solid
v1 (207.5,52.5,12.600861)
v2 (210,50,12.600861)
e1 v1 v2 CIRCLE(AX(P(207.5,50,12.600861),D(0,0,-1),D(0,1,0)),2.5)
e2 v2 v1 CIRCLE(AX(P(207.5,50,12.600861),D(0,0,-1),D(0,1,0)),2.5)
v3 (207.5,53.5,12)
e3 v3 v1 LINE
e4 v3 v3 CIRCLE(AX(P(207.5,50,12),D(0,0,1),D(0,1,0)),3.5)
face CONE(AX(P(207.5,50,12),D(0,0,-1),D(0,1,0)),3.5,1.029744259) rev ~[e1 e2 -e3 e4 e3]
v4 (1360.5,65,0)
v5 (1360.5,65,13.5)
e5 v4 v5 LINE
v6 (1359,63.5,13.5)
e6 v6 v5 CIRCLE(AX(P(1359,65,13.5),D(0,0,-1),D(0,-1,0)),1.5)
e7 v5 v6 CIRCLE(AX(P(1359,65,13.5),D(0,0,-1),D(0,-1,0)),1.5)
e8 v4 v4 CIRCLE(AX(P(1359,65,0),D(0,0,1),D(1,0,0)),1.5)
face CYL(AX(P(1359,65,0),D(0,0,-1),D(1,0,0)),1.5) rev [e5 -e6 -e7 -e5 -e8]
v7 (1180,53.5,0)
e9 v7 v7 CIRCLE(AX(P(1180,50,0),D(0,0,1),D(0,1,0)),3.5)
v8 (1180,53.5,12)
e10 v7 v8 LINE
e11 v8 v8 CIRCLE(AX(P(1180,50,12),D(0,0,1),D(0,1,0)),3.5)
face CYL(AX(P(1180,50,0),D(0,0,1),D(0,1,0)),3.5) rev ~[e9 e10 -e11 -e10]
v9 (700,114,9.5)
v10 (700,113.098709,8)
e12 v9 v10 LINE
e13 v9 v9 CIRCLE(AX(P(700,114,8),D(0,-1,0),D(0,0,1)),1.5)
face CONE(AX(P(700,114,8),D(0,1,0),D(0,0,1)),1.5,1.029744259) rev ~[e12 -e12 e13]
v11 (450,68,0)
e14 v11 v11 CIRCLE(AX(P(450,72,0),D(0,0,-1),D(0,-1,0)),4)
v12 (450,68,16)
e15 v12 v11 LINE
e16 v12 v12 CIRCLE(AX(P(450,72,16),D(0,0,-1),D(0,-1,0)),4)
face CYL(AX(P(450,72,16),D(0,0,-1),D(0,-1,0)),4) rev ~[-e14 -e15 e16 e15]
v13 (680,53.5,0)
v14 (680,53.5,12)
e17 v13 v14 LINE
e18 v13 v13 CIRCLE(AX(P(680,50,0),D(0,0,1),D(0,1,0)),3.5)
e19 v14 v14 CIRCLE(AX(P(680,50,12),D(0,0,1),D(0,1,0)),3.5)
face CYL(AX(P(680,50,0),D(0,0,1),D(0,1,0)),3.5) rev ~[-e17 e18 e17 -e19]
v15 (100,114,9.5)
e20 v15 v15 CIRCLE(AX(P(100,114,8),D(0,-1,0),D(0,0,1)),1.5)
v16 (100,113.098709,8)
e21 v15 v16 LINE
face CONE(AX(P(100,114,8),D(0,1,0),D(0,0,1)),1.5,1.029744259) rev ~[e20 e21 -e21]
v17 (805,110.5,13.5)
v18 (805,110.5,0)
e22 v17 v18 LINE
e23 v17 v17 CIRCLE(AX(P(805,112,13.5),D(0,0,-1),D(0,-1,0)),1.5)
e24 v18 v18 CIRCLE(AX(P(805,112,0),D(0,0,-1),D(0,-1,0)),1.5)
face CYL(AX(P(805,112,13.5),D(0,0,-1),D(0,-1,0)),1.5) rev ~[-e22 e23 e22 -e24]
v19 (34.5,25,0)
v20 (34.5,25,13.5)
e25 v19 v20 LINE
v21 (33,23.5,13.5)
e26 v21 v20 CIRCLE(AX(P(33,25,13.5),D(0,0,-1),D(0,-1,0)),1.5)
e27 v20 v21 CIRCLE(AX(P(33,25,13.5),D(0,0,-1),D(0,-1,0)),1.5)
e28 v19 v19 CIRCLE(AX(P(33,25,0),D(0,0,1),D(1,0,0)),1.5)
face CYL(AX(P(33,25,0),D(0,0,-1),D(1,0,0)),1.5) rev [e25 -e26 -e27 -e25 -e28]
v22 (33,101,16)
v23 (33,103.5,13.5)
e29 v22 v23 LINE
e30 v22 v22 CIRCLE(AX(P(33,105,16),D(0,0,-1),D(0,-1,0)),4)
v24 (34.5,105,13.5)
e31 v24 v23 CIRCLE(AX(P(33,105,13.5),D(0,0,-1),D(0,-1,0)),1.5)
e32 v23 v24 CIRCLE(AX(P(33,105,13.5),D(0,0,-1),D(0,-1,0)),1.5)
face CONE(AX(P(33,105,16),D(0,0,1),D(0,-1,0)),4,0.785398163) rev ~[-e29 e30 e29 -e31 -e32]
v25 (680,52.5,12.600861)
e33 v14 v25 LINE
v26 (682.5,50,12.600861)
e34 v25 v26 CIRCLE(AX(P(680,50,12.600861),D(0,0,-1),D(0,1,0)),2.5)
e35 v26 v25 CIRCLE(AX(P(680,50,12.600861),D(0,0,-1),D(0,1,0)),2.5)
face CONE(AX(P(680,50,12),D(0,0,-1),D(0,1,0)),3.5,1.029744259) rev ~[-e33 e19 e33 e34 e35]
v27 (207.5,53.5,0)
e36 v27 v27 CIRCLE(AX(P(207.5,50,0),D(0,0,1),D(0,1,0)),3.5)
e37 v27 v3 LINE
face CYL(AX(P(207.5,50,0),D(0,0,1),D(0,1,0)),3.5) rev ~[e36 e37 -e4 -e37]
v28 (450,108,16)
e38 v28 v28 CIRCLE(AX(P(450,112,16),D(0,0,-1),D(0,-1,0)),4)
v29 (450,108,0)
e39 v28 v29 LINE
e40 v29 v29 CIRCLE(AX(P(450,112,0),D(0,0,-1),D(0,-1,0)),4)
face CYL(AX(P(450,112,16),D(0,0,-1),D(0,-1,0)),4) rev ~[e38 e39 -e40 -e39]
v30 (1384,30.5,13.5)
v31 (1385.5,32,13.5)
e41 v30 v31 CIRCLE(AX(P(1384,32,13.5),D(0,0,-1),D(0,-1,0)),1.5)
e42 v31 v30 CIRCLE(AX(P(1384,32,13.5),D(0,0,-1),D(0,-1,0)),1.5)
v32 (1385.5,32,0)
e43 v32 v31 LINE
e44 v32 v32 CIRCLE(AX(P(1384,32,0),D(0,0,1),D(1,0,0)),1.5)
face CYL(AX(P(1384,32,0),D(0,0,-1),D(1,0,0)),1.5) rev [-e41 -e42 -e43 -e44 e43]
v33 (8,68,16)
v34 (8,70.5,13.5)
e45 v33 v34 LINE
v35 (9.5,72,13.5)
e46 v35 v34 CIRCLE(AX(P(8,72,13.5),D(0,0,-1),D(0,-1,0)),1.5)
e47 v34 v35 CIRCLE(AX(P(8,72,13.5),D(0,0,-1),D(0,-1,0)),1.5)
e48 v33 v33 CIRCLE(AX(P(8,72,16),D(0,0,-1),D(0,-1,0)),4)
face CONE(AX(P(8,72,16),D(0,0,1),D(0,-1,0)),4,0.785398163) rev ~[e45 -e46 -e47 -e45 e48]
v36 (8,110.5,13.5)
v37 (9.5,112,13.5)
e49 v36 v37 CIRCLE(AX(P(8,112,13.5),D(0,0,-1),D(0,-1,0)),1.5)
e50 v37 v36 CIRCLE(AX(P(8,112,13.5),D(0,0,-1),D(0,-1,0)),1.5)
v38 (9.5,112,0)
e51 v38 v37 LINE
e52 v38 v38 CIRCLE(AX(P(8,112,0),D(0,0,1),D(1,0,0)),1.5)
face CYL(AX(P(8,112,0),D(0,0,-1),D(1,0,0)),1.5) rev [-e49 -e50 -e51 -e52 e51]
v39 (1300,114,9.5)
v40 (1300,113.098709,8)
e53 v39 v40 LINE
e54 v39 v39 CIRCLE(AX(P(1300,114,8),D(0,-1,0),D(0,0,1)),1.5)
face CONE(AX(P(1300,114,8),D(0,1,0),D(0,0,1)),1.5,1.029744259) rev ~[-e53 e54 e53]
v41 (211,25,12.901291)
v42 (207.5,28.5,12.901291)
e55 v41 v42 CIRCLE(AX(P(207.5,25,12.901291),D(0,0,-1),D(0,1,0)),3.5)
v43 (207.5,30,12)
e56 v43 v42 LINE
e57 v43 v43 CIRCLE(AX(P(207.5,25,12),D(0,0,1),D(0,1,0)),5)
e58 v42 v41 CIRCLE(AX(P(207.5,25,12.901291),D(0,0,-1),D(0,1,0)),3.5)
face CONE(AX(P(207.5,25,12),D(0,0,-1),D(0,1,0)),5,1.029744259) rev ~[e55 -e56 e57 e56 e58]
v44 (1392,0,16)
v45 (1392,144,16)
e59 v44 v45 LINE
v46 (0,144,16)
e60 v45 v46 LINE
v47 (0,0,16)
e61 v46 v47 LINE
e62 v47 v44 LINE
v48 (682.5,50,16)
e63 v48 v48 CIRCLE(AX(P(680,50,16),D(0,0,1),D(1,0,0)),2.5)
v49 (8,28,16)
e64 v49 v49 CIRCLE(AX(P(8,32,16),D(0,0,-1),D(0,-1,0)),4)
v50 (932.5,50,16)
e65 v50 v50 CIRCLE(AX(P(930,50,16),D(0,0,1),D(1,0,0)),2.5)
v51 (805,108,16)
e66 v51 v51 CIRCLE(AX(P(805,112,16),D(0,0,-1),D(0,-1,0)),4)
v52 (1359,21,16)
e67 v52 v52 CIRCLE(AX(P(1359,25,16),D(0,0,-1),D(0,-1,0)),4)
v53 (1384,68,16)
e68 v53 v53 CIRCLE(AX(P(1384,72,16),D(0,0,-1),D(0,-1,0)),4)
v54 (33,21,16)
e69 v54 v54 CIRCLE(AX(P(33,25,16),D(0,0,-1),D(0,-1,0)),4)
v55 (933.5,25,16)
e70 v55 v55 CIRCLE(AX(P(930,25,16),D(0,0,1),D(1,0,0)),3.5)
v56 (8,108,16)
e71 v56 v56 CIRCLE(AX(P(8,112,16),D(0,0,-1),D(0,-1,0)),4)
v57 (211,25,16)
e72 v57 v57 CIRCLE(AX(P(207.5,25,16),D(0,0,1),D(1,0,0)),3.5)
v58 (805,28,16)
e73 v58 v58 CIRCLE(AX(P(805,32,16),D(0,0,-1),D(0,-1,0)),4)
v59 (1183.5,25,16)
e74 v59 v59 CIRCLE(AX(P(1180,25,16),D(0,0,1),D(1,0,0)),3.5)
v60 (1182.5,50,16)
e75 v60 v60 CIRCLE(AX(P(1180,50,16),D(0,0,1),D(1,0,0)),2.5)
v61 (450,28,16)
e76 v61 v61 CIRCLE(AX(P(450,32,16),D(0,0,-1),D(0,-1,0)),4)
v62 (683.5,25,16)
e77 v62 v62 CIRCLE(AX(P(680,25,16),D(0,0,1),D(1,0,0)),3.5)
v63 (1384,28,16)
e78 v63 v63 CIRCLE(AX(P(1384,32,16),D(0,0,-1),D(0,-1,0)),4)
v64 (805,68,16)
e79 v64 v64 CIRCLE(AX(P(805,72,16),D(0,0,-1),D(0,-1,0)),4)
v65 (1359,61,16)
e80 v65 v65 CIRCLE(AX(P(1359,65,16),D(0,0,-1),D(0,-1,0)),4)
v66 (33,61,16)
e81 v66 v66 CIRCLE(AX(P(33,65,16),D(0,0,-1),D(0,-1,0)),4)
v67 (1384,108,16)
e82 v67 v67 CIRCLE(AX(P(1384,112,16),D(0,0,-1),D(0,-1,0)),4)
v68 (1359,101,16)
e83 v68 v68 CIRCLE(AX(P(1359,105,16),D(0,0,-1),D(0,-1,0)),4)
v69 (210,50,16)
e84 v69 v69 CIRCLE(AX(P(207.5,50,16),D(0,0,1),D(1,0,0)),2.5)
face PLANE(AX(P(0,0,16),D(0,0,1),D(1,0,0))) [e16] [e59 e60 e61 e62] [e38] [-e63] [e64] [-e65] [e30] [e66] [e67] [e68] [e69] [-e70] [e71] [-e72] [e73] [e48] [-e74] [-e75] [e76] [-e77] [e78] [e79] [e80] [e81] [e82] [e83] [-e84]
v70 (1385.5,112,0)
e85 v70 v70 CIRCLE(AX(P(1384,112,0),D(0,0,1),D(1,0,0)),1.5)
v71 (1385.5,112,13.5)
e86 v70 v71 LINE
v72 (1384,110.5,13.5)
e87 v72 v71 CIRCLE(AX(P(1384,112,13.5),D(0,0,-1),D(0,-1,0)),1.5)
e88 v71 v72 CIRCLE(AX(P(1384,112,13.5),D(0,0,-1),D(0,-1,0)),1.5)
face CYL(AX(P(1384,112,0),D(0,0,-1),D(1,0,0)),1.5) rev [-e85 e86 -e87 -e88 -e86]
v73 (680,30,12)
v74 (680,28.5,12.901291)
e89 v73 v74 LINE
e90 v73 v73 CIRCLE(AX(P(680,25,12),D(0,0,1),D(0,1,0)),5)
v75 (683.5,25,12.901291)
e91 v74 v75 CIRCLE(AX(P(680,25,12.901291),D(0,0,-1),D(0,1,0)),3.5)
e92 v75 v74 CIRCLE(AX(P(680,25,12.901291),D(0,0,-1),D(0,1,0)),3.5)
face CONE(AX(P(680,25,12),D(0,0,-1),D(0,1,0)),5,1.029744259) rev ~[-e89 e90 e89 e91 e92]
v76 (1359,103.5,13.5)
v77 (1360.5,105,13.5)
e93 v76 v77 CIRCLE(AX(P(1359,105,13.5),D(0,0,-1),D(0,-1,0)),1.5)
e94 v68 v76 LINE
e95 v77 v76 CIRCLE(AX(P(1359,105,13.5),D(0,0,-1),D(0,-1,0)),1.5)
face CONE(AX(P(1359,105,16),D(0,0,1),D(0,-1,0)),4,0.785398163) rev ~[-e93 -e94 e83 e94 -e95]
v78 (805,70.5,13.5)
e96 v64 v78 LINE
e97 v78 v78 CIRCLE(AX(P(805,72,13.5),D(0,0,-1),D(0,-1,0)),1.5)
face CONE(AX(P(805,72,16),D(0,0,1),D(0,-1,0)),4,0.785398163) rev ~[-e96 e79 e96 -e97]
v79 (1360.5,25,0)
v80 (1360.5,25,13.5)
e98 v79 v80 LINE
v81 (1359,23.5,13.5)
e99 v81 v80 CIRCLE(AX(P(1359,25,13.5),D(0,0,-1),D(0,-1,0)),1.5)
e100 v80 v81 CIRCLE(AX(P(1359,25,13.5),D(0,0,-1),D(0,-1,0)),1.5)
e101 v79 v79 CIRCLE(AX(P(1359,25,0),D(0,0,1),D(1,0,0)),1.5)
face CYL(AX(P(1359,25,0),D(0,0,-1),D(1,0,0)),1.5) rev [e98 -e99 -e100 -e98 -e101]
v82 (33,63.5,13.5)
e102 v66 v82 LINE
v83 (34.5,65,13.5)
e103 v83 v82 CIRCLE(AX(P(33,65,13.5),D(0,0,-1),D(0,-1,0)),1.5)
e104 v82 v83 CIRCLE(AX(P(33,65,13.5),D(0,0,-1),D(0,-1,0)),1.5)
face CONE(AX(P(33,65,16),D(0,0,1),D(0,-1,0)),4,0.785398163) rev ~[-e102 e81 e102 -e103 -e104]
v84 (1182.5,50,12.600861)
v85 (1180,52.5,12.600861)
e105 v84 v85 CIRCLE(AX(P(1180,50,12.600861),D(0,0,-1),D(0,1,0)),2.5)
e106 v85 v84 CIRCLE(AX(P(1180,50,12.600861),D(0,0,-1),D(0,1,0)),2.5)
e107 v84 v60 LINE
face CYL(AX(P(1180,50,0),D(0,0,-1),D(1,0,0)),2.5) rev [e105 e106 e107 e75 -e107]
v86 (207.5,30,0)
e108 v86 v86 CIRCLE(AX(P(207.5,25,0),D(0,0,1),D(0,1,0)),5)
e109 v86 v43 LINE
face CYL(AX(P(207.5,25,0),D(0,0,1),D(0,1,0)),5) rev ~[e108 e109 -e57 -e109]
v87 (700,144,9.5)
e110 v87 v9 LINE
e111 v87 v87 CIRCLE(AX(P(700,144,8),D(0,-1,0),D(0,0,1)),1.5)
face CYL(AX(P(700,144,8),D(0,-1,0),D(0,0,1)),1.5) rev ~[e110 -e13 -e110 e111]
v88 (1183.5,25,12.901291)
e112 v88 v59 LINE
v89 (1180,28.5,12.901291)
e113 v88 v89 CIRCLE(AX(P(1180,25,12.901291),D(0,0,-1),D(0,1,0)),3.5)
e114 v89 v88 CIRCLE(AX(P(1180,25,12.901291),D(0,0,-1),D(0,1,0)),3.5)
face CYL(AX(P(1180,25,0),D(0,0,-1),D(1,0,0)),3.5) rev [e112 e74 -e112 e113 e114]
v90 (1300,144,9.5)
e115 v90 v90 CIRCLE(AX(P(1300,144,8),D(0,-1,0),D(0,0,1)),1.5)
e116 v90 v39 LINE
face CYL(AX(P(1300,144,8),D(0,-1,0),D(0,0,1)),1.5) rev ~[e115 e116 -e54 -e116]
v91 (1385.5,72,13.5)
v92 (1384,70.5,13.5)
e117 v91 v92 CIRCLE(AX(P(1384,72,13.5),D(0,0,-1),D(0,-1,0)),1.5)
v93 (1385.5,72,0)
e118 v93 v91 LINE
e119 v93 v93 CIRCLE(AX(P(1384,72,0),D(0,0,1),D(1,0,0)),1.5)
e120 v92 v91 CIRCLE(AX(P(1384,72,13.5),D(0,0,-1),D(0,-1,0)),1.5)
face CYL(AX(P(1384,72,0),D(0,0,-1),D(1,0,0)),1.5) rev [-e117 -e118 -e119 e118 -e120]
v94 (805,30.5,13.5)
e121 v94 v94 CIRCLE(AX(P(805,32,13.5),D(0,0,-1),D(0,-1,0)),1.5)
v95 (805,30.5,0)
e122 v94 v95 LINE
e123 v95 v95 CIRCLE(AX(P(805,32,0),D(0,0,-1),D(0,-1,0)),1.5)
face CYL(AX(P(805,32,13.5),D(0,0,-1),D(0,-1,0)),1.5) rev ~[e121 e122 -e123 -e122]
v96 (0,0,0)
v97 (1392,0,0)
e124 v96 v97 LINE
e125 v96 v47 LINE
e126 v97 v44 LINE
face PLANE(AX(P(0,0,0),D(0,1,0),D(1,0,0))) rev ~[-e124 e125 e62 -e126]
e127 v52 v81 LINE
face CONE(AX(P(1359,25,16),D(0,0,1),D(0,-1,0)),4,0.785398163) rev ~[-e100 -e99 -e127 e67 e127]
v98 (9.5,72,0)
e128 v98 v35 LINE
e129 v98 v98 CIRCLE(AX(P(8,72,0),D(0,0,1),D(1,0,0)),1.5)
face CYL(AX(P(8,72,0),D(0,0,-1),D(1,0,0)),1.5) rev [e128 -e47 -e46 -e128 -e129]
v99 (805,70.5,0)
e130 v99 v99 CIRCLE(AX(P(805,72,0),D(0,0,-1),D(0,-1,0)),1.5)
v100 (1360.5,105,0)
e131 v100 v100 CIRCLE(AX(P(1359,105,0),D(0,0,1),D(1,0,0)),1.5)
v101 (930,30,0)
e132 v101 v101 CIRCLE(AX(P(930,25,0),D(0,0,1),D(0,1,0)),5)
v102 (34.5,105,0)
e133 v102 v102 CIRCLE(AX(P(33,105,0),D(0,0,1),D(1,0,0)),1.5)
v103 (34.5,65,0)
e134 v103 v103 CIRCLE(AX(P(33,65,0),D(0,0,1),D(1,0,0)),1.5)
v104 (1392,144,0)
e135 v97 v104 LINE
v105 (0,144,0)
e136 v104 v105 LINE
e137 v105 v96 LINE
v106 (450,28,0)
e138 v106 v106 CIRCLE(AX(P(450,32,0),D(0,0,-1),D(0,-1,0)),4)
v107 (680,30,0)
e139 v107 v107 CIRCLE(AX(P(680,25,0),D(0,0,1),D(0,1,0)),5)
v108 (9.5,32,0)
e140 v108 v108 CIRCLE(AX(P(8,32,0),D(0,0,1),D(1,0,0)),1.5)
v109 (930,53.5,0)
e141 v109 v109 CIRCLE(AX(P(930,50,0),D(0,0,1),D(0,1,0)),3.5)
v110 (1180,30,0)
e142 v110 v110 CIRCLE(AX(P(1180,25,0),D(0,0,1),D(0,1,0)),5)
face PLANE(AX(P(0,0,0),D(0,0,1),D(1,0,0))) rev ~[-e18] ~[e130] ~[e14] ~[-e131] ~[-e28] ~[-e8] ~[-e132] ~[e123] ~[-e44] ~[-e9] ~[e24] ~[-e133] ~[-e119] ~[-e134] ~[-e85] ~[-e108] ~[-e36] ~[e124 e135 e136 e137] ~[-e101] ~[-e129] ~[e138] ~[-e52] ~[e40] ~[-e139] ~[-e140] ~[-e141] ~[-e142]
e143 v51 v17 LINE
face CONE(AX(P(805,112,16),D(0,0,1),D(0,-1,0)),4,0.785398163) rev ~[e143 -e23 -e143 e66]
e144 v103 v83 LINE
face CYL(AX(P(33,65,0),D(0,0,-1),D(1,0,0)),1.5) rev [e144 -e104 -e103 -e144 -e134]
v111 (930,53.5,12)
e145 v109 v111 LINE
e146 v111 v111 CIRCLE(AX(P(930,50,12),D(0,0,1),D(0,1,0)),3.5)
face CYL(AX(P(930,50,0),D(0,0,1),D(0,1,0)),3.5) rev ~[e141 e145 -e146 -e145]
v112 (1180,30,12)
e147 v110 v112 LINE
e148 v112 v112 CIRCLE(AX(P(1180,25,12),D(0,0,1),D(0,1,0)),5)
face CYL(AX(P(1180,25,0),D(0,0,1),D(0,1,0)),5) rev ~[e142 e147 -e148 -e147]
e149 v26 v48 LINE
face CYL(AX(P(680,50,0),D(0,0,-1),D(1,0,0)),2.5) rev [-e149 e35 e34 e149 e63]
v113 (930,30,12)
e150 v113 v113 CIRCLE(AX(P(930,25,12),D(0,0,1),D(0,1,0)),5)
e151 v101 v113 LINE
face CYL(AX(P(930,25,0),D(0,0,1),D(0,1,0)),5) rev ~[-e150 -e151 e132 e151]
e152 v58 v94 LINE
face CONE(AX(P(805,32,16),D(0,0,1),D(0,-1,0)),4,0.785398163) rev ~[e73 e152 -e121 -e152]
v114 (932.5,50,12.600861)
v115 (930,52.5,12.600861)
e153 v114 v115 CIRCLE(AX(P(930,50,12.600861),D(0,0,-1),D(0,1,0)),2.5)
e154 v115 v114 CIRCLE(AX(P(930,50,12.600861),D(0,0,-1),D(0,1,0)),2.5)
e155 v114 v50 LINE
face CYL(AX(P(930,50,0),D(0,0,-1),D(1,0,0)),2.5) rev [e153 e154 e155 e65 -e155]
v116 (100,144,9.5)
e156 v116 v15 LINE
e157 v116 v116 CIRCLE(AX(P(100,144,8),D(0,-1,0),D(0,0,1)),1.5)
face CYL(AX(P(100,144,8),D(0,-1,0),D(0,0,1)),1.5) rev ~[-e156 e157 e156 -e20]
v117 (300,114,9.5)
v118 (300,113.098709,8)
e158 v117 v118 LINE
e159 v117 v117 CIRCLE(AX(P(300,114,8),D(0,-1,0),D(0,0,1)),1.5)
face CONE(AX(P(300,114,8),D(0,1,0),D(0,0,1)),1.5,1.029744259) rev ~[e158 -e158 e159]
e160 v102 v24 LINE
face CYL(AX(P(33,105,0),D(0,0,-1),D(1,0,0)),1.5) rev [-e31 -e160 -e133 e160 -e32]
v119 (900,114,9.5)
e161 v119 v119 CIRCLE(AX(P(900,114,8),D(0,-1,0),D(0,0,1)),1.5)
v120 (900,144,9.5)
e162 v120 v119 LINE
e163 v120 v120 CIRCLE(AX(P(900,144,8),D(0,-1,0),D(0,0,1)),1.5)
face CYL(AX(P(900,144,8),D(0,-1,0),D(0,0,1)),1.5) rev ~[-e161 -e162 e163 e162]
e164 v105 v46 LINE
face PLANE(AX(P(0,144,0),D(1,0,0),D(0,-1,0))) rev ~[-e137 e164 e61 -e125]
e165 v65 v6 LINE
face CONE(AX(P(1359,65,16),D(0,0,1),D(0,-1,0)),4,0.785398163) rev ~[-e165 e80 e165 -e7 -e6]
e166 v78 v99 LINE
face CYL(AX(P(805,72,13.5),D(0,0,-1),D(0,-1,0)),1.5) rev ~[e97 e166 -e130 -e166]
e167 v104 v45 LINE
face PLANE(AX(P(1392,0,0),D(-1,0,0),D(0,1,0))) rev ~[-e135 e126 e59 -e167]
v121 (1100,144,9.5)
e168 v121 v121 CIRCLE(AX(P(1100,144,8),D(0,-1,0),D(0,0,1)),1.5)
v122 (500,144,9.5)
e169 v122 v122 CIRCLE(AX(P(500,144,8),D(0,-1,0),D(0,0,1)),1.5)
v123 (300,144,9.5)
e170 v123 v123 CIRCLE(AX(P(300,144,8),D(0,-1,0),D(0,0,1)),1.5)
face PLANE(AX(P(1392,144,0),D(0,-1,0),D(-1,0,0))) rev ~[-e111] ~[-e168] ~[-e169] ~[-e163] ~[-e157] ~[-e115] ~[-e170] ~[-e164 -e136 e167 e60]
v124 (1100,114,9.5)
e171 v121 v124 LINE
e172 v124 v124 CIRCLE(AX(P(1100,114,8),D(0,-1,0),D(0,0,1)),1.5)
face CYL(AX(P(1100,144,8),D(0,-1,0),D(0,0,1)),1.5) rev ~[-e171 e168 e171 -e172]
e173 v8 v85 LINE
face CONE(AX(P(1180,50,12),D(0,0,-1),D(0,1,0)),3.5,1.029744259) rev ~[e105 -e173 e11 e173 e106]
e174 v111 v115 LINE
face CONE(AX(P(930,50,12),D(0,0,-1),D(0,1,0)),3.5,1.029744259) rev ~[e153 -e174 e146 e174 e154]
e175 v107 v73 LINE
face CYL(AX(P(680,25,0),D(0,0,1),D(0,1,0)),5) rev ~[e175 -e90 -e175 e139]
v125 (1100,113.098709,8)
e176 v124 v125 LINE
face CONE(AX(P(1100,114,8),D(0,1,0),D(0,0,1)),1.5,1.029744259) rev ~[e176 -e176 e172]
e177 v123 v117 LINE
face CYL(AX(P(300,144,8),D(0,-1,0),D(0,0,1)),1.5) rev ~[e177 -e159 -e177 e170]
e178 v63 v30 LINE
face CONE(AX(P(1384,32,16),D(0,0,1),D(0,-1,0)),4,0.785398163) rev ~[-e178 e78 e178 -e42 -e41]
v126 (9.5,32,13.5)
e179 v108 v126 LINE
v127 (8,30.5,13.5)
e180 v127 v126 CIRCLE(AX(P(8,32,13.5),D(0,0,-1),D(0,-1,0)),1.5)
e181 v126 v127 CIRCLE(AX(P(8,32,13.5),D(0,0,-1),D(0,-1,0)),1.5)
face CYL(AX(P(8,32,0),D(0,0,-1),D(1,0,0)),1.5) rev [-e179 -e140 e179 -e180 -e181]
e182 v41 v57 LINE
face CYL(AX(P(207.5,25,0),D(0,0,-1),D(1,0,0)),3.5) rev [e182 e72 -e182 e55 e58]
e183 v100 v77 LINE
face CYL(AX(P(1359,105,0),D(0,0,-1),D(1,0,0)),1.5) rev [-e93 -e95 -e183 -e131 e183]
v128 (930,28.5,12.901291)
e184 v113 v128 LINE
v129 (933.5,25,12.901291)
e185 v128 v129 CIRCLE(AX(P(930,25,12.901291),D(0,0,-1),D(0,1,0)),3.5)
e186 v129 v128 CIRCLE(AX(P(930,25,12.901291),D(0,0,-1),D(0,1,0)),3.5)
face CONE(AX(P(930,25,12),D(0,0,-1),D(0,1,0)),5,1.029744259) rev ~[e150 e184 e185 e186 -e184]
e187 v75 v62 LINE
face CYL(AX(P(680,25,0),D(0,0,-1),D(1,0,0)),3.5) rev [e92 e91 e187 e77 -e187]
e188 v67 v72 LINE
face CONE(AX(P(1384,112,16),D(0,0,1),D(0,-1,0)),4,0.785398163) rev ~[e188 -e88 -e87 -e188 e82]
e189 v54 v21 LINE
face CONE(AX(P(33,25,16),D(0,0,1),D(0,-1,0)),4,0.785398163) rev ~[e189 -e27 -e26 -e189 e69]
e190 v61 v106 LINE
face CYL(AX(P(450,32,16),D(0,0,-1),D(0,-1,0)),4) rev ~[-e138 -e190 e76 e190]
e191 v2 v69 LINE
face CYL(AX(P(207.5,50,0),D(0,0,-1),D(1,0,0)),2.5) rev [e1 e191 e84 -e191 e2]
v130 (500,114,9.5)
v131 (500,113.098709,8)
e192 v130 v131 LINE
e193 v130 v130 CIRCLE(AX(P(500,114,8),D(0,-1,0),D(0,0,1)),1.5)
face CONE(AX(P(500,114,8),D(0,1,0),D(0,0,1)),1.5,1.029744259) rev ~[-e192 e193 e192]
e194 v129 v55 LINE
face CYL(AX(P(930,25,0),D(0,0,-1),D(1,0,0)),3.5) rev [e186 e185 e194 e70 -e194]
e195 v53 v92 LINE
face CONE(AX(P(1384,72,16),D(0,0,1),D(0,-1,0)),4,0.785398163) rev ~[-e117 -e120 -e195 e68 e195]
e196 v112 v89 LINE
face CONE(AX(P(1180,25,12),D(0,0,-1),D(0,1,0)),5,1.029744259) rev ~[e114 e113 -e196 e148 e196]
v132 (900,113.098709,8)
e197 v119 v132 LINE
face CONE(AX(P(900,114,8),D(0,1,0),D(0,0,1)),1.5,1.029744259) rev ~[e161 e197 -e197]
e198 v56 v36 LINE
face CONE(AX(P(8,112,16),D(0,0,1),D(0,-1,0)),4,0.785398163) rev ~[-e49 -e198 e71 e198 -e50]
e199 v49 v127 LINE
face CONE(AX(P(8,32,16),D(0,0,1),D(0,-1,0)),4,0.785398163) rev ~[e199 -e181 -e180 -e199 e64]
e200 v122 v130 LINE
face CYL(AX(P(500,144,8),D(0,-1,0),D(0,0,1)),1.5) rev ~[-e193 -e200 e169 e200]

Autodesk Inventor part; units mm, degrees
ref_plane "YZ Plane" through (0, 0, 0) normal (1, 0, 0) x (0, 1, 0)
ref_plane "XZ Plane" through (0, 0, 0) normal (0, 1, 0) x (-1, 0, 0)
ref_plane "XY Plane" through (0, 0, 0) normal (0, 0, 1) x (1, 0, 0)
sketch "Skizze1" plane through (0, 0, 0) normal (0, 0, 1) x (1, 0, 0)
  line L0 (0, 0) -> (1392, 0)
  line L1 (1392, 0) -> (1392, 144)
  line L2 (1392, 144) -> (0, 144)
  line L3 (0, 144) -> (0, 0)
  line L4 (0, 25) -> (1392, 25) construction
  line L5 (0, 50) -> (1392, 50) construction
  line L6 (680, 0) -> (680, 144) construction
  line L7 (930, 144) -> (930, 0) construction
  line L8 (1180, 144) -> (1180, 0) construction
  line L9 (207.5, 144) -> (207.5, 0) construction
  circle A0 centre (207.5, 50) radius 2.5
  circle A1 centre (680, 50) radius 2.5
  circle A2 centre (930, 50) radius 2.5
  circle A3 centre (1180, 50) radius 2.5
  circle A4 centre (1180, 25) radius 3.5
  circle A5 centre (930, 25) radius 3.5
  circle A6 centre (680, 25) radius 3.5
  circle A7 centre (207.5, 25) radius 3.5
  line L10 (1384, 144) -> (1384, 0) construction
  line L11 (1392, 112) -> (0, 112) construction
  line L12 (1392, 32) -> (0, 32) construction
  circle A8 centre (1384, 112) radius 1.5
  circle A9 centre (1384, 32) radius 1.5
  line L13 (8, 144) -> (8, 0) construction
  circle A10 centre (8, 112) radius 1.5
  circle A11 centre (8, 72) radius 1.5
  circle A12 centre (8, 32) radius 1.5
  circle A13 centre (1384, 72) radius 1.5
  circle A14 centre (1359, 25) radius 1.5
  circle A15 centre (1359, 65) radius 1.5
  circle A16 centre (1359, 105) radius 1.5
  circle A17 centre (33, 65) radius 1.5
  line L14 (1359, 25) -> (1359, 105) construction
  line L15 (0, 72) -> (33, 72) construction
  circle A18 centre (33, 105) radius 1.5
  circle A19 centre (33, 25) radius 1.5
  line L16 (33, 25) -> (33, 105) construction
  point P0 (1392, 72)
  dimension "d0" = 1392
  dimension "d1" = 144
  dimension "d2" = 25
  dimension "d3" = 50
  dimension "d6" = 250
  dimension "d8" = 5
  dimension "d9" = 5
  dimension "d10" = 5
  dimension "d11" = 5
  dimension "d12" = 7
  dimension "d13" = 7
  dimension "d14" = 7
  dimension "d15" = 7
  dimension "d20" = 8
  dimension "d21" = 40
  dimension "d22" = 40
  dimension "d23" = 3
  dimension "d24" = 3
  dimension "d25" = 8
  dimension "d26" = 3
  dimension "d27" = 3
  dimension "d28" = 3
  dimension "d29" = 3
  dimension "d137" = 3
  dimension "d138" = 3
  dimension "d139" = 3
  dimension "d143" = 3
  dimension "d153" = 3
  dimension "d154" = 3
  dimension "d206" = 33
  dimension "d210" = 40
  dimension "d211" = 40
  dimension "d212" = 33
  dimension "d213" = 40
  dimension "d214" = 40
  dimension "d215" = 250
  dimension "d216" = 680
  dimension "d217" = 207.5
extrude "Extrusion1" add sketch "Skizze1" along normal blind 16
hole "Bohrung1" at (1180, 25, 0) at (930, 25, 0) at (680, 25, 0) at (207.5, 25, 0) direction (0, 0, 1) diameter 10 depth 12 tip angle 118
hole "Bohrung4" at (930, 50, 0) at (680, 50, 0) at (207.5, 50, 0) at (1180, 50, 0) direction (0, 0, 1) diameter 7 depth 12 tip angle 118
sketch "Skizze4" plane through (0, 0, 16) normal (0, 0, 1) x (1, 0, 0)
  circle A0 centre (8, 112) radius 1.5 projected
  circle A1 centre (8, 72) radius 1.5 projected
  circle A2 centre (8, 32) radius 1.5 projected
  circle A3 centre (30, 72) radius 1.5 projected
  circle A4 centre (207.5, 25) radius 3.5 projected
  circle A5 centre (680, 25) radius 3.5 projected
  circle A6 centre (930, 25) radius 3.5 projected
  circle A7 centre (1180, 25) radius 3.5 projected
  circle A8 centre (1180, 50) radius 2.5 projected
  circle A9 centre (930, 50) radius 2.5 projected
  circle A10 centre (680, 50) radius 2.5 projected
  circle A11 centre (207.5, 50) radius 2.5 projected
  circle A12 centre (33, 25) radius 1.5 projected
  circle A13 centre (33, 105) radius 1.5 projected
  circle A14 centre (33, 65) radius 1.5 projected
  circle A15 centre (1359, 105) radius 1.5 projected
  circle A16 centre (1359, 65) radius 1.5 projected
  circle A17 centre (1359, 25) radius 1.5 projected
  circle A18 centre (1384, 72) radius 1.5 projected
  circle A19 centre (8, 32) radius 1.5 projected
  circle A20 centre (8, 72) radius 1.5 projected
  circle A21 centre (8, 112) radius 1.5 projected
  circle A22 centre (1384, 32) radius 1.5 projected
  circle A23 centre (1384, 112) radius 1.5 projected
  line L0 (0, 0) -> (1392, 0) projected
  line L1 (1392, 0) -> (1392, 144) projected
  line L2 (1392, 144) -> (0, 144) projected
  line L3 (0, 144) -> (0, 0) projected
hole "Bohrung15" at (1359, 65, 16) at (1384, 32, 16) at (1384, 72, 16) at (1384, 112, 16) at (1359, 105, 16) at (1359, 25, 16) at (33, 65, 16) at (33, 25, 16) at (33, 105, 16) at (8, 72, 16) at (8, 112, 16) at (8, 32, 16) direction (0, 0, -1) diameter 3 depth 8 tip angle 118 countersink diameter 8 countersink angle 90
sketch "Skizze5" plane through (0, 144, 0) normal (0, 1, 0) x (1, 0, 0)
  line L0 (1392, -16) -> (0, -16) construction
  line L1 (0, -16) -> (0, 0) construction
  line L2 (0, 0) -> (1392, 0) construction
  line L3 (1392, 0) -> (1392, -16) construction
  line L4 (0, 0) -> (0, -16) construction
  line L5 (0, -8) -> (1392, -8) construction
  line L6 (1392, 0) -> (1392, -16) construction
  line L7 (0, -16) -> (1392, -16) construction
  line L8 (696, -16) -> (696, 0) construction
  line L9 (0, 0) -> (1392, 0) construction
  point P0 (0, 0)
  point P1 (700, -8)
  point P2 (900, -8)
  point P3 (1100, -8)
  point P4 (1300, -8)
  point P5 (500, -8)
  point P6 (300, -8)
  point P7 (100, -8)
  dimension "d190" = 200
  dimension "d191" = 200
  dimension "d195" = 200
  dimension "d196" = 200
  dimension "d197" = 200
  dimension "d244" = 200
  dimension "d245" = 100
  dimension "d246" = 92
hole "Bohrung16" at (1300, 144, 8) at (1100, 144, 8) at (900, 144, 8) at (500, 144, 8) at (300, 144, 8) at (100, 144, 8) at (700, 144, 8) direction (0, -1, 0) diameter 3 depth 30 tip angle 118
sketch "Skizze7" plane through (0, 0, 16) normal (0, 0, 1) x (1, 0, 0)
  line L0 (1392, 144) -> (0, 144) construction
  line L1 (0, 0) -> (1392, 0) construction
  line L2 (0, 144) -> (0, 0) construction
  line L3 (1392, 0) -> (1392, 144) construction
  line L4 (450, 0) -> (450, 144) construction
  line L5 (805, 0) -> (805, 144) construction
  circle A0 centre (680, 50) radius 2.5 construction
  line L6 (450, 32) -> (805, 32) construction
  line L7 (805, 112) -> (450, 112) construction
  point P0 (450, 72)
  point P1 (805, 72)
  dimension "d226" = 450
  dimension "d227" = 125
  dimension "d228" = 40
  dimension "d229" = 40
hole "Bohrung17" at (805, 32, 16) at (805, 72, 16) at (805, 112, 16) direction (0, 0, -1) diameter 3 end through all countersink diameter 8 countersink angle 90
hole "Bohrung18" at (450, 72, 16) at (450, 112, 16) at (450, 32, 16) direction (0, 0, -1) diameter 8 end through all
properties part number "licht_50"
